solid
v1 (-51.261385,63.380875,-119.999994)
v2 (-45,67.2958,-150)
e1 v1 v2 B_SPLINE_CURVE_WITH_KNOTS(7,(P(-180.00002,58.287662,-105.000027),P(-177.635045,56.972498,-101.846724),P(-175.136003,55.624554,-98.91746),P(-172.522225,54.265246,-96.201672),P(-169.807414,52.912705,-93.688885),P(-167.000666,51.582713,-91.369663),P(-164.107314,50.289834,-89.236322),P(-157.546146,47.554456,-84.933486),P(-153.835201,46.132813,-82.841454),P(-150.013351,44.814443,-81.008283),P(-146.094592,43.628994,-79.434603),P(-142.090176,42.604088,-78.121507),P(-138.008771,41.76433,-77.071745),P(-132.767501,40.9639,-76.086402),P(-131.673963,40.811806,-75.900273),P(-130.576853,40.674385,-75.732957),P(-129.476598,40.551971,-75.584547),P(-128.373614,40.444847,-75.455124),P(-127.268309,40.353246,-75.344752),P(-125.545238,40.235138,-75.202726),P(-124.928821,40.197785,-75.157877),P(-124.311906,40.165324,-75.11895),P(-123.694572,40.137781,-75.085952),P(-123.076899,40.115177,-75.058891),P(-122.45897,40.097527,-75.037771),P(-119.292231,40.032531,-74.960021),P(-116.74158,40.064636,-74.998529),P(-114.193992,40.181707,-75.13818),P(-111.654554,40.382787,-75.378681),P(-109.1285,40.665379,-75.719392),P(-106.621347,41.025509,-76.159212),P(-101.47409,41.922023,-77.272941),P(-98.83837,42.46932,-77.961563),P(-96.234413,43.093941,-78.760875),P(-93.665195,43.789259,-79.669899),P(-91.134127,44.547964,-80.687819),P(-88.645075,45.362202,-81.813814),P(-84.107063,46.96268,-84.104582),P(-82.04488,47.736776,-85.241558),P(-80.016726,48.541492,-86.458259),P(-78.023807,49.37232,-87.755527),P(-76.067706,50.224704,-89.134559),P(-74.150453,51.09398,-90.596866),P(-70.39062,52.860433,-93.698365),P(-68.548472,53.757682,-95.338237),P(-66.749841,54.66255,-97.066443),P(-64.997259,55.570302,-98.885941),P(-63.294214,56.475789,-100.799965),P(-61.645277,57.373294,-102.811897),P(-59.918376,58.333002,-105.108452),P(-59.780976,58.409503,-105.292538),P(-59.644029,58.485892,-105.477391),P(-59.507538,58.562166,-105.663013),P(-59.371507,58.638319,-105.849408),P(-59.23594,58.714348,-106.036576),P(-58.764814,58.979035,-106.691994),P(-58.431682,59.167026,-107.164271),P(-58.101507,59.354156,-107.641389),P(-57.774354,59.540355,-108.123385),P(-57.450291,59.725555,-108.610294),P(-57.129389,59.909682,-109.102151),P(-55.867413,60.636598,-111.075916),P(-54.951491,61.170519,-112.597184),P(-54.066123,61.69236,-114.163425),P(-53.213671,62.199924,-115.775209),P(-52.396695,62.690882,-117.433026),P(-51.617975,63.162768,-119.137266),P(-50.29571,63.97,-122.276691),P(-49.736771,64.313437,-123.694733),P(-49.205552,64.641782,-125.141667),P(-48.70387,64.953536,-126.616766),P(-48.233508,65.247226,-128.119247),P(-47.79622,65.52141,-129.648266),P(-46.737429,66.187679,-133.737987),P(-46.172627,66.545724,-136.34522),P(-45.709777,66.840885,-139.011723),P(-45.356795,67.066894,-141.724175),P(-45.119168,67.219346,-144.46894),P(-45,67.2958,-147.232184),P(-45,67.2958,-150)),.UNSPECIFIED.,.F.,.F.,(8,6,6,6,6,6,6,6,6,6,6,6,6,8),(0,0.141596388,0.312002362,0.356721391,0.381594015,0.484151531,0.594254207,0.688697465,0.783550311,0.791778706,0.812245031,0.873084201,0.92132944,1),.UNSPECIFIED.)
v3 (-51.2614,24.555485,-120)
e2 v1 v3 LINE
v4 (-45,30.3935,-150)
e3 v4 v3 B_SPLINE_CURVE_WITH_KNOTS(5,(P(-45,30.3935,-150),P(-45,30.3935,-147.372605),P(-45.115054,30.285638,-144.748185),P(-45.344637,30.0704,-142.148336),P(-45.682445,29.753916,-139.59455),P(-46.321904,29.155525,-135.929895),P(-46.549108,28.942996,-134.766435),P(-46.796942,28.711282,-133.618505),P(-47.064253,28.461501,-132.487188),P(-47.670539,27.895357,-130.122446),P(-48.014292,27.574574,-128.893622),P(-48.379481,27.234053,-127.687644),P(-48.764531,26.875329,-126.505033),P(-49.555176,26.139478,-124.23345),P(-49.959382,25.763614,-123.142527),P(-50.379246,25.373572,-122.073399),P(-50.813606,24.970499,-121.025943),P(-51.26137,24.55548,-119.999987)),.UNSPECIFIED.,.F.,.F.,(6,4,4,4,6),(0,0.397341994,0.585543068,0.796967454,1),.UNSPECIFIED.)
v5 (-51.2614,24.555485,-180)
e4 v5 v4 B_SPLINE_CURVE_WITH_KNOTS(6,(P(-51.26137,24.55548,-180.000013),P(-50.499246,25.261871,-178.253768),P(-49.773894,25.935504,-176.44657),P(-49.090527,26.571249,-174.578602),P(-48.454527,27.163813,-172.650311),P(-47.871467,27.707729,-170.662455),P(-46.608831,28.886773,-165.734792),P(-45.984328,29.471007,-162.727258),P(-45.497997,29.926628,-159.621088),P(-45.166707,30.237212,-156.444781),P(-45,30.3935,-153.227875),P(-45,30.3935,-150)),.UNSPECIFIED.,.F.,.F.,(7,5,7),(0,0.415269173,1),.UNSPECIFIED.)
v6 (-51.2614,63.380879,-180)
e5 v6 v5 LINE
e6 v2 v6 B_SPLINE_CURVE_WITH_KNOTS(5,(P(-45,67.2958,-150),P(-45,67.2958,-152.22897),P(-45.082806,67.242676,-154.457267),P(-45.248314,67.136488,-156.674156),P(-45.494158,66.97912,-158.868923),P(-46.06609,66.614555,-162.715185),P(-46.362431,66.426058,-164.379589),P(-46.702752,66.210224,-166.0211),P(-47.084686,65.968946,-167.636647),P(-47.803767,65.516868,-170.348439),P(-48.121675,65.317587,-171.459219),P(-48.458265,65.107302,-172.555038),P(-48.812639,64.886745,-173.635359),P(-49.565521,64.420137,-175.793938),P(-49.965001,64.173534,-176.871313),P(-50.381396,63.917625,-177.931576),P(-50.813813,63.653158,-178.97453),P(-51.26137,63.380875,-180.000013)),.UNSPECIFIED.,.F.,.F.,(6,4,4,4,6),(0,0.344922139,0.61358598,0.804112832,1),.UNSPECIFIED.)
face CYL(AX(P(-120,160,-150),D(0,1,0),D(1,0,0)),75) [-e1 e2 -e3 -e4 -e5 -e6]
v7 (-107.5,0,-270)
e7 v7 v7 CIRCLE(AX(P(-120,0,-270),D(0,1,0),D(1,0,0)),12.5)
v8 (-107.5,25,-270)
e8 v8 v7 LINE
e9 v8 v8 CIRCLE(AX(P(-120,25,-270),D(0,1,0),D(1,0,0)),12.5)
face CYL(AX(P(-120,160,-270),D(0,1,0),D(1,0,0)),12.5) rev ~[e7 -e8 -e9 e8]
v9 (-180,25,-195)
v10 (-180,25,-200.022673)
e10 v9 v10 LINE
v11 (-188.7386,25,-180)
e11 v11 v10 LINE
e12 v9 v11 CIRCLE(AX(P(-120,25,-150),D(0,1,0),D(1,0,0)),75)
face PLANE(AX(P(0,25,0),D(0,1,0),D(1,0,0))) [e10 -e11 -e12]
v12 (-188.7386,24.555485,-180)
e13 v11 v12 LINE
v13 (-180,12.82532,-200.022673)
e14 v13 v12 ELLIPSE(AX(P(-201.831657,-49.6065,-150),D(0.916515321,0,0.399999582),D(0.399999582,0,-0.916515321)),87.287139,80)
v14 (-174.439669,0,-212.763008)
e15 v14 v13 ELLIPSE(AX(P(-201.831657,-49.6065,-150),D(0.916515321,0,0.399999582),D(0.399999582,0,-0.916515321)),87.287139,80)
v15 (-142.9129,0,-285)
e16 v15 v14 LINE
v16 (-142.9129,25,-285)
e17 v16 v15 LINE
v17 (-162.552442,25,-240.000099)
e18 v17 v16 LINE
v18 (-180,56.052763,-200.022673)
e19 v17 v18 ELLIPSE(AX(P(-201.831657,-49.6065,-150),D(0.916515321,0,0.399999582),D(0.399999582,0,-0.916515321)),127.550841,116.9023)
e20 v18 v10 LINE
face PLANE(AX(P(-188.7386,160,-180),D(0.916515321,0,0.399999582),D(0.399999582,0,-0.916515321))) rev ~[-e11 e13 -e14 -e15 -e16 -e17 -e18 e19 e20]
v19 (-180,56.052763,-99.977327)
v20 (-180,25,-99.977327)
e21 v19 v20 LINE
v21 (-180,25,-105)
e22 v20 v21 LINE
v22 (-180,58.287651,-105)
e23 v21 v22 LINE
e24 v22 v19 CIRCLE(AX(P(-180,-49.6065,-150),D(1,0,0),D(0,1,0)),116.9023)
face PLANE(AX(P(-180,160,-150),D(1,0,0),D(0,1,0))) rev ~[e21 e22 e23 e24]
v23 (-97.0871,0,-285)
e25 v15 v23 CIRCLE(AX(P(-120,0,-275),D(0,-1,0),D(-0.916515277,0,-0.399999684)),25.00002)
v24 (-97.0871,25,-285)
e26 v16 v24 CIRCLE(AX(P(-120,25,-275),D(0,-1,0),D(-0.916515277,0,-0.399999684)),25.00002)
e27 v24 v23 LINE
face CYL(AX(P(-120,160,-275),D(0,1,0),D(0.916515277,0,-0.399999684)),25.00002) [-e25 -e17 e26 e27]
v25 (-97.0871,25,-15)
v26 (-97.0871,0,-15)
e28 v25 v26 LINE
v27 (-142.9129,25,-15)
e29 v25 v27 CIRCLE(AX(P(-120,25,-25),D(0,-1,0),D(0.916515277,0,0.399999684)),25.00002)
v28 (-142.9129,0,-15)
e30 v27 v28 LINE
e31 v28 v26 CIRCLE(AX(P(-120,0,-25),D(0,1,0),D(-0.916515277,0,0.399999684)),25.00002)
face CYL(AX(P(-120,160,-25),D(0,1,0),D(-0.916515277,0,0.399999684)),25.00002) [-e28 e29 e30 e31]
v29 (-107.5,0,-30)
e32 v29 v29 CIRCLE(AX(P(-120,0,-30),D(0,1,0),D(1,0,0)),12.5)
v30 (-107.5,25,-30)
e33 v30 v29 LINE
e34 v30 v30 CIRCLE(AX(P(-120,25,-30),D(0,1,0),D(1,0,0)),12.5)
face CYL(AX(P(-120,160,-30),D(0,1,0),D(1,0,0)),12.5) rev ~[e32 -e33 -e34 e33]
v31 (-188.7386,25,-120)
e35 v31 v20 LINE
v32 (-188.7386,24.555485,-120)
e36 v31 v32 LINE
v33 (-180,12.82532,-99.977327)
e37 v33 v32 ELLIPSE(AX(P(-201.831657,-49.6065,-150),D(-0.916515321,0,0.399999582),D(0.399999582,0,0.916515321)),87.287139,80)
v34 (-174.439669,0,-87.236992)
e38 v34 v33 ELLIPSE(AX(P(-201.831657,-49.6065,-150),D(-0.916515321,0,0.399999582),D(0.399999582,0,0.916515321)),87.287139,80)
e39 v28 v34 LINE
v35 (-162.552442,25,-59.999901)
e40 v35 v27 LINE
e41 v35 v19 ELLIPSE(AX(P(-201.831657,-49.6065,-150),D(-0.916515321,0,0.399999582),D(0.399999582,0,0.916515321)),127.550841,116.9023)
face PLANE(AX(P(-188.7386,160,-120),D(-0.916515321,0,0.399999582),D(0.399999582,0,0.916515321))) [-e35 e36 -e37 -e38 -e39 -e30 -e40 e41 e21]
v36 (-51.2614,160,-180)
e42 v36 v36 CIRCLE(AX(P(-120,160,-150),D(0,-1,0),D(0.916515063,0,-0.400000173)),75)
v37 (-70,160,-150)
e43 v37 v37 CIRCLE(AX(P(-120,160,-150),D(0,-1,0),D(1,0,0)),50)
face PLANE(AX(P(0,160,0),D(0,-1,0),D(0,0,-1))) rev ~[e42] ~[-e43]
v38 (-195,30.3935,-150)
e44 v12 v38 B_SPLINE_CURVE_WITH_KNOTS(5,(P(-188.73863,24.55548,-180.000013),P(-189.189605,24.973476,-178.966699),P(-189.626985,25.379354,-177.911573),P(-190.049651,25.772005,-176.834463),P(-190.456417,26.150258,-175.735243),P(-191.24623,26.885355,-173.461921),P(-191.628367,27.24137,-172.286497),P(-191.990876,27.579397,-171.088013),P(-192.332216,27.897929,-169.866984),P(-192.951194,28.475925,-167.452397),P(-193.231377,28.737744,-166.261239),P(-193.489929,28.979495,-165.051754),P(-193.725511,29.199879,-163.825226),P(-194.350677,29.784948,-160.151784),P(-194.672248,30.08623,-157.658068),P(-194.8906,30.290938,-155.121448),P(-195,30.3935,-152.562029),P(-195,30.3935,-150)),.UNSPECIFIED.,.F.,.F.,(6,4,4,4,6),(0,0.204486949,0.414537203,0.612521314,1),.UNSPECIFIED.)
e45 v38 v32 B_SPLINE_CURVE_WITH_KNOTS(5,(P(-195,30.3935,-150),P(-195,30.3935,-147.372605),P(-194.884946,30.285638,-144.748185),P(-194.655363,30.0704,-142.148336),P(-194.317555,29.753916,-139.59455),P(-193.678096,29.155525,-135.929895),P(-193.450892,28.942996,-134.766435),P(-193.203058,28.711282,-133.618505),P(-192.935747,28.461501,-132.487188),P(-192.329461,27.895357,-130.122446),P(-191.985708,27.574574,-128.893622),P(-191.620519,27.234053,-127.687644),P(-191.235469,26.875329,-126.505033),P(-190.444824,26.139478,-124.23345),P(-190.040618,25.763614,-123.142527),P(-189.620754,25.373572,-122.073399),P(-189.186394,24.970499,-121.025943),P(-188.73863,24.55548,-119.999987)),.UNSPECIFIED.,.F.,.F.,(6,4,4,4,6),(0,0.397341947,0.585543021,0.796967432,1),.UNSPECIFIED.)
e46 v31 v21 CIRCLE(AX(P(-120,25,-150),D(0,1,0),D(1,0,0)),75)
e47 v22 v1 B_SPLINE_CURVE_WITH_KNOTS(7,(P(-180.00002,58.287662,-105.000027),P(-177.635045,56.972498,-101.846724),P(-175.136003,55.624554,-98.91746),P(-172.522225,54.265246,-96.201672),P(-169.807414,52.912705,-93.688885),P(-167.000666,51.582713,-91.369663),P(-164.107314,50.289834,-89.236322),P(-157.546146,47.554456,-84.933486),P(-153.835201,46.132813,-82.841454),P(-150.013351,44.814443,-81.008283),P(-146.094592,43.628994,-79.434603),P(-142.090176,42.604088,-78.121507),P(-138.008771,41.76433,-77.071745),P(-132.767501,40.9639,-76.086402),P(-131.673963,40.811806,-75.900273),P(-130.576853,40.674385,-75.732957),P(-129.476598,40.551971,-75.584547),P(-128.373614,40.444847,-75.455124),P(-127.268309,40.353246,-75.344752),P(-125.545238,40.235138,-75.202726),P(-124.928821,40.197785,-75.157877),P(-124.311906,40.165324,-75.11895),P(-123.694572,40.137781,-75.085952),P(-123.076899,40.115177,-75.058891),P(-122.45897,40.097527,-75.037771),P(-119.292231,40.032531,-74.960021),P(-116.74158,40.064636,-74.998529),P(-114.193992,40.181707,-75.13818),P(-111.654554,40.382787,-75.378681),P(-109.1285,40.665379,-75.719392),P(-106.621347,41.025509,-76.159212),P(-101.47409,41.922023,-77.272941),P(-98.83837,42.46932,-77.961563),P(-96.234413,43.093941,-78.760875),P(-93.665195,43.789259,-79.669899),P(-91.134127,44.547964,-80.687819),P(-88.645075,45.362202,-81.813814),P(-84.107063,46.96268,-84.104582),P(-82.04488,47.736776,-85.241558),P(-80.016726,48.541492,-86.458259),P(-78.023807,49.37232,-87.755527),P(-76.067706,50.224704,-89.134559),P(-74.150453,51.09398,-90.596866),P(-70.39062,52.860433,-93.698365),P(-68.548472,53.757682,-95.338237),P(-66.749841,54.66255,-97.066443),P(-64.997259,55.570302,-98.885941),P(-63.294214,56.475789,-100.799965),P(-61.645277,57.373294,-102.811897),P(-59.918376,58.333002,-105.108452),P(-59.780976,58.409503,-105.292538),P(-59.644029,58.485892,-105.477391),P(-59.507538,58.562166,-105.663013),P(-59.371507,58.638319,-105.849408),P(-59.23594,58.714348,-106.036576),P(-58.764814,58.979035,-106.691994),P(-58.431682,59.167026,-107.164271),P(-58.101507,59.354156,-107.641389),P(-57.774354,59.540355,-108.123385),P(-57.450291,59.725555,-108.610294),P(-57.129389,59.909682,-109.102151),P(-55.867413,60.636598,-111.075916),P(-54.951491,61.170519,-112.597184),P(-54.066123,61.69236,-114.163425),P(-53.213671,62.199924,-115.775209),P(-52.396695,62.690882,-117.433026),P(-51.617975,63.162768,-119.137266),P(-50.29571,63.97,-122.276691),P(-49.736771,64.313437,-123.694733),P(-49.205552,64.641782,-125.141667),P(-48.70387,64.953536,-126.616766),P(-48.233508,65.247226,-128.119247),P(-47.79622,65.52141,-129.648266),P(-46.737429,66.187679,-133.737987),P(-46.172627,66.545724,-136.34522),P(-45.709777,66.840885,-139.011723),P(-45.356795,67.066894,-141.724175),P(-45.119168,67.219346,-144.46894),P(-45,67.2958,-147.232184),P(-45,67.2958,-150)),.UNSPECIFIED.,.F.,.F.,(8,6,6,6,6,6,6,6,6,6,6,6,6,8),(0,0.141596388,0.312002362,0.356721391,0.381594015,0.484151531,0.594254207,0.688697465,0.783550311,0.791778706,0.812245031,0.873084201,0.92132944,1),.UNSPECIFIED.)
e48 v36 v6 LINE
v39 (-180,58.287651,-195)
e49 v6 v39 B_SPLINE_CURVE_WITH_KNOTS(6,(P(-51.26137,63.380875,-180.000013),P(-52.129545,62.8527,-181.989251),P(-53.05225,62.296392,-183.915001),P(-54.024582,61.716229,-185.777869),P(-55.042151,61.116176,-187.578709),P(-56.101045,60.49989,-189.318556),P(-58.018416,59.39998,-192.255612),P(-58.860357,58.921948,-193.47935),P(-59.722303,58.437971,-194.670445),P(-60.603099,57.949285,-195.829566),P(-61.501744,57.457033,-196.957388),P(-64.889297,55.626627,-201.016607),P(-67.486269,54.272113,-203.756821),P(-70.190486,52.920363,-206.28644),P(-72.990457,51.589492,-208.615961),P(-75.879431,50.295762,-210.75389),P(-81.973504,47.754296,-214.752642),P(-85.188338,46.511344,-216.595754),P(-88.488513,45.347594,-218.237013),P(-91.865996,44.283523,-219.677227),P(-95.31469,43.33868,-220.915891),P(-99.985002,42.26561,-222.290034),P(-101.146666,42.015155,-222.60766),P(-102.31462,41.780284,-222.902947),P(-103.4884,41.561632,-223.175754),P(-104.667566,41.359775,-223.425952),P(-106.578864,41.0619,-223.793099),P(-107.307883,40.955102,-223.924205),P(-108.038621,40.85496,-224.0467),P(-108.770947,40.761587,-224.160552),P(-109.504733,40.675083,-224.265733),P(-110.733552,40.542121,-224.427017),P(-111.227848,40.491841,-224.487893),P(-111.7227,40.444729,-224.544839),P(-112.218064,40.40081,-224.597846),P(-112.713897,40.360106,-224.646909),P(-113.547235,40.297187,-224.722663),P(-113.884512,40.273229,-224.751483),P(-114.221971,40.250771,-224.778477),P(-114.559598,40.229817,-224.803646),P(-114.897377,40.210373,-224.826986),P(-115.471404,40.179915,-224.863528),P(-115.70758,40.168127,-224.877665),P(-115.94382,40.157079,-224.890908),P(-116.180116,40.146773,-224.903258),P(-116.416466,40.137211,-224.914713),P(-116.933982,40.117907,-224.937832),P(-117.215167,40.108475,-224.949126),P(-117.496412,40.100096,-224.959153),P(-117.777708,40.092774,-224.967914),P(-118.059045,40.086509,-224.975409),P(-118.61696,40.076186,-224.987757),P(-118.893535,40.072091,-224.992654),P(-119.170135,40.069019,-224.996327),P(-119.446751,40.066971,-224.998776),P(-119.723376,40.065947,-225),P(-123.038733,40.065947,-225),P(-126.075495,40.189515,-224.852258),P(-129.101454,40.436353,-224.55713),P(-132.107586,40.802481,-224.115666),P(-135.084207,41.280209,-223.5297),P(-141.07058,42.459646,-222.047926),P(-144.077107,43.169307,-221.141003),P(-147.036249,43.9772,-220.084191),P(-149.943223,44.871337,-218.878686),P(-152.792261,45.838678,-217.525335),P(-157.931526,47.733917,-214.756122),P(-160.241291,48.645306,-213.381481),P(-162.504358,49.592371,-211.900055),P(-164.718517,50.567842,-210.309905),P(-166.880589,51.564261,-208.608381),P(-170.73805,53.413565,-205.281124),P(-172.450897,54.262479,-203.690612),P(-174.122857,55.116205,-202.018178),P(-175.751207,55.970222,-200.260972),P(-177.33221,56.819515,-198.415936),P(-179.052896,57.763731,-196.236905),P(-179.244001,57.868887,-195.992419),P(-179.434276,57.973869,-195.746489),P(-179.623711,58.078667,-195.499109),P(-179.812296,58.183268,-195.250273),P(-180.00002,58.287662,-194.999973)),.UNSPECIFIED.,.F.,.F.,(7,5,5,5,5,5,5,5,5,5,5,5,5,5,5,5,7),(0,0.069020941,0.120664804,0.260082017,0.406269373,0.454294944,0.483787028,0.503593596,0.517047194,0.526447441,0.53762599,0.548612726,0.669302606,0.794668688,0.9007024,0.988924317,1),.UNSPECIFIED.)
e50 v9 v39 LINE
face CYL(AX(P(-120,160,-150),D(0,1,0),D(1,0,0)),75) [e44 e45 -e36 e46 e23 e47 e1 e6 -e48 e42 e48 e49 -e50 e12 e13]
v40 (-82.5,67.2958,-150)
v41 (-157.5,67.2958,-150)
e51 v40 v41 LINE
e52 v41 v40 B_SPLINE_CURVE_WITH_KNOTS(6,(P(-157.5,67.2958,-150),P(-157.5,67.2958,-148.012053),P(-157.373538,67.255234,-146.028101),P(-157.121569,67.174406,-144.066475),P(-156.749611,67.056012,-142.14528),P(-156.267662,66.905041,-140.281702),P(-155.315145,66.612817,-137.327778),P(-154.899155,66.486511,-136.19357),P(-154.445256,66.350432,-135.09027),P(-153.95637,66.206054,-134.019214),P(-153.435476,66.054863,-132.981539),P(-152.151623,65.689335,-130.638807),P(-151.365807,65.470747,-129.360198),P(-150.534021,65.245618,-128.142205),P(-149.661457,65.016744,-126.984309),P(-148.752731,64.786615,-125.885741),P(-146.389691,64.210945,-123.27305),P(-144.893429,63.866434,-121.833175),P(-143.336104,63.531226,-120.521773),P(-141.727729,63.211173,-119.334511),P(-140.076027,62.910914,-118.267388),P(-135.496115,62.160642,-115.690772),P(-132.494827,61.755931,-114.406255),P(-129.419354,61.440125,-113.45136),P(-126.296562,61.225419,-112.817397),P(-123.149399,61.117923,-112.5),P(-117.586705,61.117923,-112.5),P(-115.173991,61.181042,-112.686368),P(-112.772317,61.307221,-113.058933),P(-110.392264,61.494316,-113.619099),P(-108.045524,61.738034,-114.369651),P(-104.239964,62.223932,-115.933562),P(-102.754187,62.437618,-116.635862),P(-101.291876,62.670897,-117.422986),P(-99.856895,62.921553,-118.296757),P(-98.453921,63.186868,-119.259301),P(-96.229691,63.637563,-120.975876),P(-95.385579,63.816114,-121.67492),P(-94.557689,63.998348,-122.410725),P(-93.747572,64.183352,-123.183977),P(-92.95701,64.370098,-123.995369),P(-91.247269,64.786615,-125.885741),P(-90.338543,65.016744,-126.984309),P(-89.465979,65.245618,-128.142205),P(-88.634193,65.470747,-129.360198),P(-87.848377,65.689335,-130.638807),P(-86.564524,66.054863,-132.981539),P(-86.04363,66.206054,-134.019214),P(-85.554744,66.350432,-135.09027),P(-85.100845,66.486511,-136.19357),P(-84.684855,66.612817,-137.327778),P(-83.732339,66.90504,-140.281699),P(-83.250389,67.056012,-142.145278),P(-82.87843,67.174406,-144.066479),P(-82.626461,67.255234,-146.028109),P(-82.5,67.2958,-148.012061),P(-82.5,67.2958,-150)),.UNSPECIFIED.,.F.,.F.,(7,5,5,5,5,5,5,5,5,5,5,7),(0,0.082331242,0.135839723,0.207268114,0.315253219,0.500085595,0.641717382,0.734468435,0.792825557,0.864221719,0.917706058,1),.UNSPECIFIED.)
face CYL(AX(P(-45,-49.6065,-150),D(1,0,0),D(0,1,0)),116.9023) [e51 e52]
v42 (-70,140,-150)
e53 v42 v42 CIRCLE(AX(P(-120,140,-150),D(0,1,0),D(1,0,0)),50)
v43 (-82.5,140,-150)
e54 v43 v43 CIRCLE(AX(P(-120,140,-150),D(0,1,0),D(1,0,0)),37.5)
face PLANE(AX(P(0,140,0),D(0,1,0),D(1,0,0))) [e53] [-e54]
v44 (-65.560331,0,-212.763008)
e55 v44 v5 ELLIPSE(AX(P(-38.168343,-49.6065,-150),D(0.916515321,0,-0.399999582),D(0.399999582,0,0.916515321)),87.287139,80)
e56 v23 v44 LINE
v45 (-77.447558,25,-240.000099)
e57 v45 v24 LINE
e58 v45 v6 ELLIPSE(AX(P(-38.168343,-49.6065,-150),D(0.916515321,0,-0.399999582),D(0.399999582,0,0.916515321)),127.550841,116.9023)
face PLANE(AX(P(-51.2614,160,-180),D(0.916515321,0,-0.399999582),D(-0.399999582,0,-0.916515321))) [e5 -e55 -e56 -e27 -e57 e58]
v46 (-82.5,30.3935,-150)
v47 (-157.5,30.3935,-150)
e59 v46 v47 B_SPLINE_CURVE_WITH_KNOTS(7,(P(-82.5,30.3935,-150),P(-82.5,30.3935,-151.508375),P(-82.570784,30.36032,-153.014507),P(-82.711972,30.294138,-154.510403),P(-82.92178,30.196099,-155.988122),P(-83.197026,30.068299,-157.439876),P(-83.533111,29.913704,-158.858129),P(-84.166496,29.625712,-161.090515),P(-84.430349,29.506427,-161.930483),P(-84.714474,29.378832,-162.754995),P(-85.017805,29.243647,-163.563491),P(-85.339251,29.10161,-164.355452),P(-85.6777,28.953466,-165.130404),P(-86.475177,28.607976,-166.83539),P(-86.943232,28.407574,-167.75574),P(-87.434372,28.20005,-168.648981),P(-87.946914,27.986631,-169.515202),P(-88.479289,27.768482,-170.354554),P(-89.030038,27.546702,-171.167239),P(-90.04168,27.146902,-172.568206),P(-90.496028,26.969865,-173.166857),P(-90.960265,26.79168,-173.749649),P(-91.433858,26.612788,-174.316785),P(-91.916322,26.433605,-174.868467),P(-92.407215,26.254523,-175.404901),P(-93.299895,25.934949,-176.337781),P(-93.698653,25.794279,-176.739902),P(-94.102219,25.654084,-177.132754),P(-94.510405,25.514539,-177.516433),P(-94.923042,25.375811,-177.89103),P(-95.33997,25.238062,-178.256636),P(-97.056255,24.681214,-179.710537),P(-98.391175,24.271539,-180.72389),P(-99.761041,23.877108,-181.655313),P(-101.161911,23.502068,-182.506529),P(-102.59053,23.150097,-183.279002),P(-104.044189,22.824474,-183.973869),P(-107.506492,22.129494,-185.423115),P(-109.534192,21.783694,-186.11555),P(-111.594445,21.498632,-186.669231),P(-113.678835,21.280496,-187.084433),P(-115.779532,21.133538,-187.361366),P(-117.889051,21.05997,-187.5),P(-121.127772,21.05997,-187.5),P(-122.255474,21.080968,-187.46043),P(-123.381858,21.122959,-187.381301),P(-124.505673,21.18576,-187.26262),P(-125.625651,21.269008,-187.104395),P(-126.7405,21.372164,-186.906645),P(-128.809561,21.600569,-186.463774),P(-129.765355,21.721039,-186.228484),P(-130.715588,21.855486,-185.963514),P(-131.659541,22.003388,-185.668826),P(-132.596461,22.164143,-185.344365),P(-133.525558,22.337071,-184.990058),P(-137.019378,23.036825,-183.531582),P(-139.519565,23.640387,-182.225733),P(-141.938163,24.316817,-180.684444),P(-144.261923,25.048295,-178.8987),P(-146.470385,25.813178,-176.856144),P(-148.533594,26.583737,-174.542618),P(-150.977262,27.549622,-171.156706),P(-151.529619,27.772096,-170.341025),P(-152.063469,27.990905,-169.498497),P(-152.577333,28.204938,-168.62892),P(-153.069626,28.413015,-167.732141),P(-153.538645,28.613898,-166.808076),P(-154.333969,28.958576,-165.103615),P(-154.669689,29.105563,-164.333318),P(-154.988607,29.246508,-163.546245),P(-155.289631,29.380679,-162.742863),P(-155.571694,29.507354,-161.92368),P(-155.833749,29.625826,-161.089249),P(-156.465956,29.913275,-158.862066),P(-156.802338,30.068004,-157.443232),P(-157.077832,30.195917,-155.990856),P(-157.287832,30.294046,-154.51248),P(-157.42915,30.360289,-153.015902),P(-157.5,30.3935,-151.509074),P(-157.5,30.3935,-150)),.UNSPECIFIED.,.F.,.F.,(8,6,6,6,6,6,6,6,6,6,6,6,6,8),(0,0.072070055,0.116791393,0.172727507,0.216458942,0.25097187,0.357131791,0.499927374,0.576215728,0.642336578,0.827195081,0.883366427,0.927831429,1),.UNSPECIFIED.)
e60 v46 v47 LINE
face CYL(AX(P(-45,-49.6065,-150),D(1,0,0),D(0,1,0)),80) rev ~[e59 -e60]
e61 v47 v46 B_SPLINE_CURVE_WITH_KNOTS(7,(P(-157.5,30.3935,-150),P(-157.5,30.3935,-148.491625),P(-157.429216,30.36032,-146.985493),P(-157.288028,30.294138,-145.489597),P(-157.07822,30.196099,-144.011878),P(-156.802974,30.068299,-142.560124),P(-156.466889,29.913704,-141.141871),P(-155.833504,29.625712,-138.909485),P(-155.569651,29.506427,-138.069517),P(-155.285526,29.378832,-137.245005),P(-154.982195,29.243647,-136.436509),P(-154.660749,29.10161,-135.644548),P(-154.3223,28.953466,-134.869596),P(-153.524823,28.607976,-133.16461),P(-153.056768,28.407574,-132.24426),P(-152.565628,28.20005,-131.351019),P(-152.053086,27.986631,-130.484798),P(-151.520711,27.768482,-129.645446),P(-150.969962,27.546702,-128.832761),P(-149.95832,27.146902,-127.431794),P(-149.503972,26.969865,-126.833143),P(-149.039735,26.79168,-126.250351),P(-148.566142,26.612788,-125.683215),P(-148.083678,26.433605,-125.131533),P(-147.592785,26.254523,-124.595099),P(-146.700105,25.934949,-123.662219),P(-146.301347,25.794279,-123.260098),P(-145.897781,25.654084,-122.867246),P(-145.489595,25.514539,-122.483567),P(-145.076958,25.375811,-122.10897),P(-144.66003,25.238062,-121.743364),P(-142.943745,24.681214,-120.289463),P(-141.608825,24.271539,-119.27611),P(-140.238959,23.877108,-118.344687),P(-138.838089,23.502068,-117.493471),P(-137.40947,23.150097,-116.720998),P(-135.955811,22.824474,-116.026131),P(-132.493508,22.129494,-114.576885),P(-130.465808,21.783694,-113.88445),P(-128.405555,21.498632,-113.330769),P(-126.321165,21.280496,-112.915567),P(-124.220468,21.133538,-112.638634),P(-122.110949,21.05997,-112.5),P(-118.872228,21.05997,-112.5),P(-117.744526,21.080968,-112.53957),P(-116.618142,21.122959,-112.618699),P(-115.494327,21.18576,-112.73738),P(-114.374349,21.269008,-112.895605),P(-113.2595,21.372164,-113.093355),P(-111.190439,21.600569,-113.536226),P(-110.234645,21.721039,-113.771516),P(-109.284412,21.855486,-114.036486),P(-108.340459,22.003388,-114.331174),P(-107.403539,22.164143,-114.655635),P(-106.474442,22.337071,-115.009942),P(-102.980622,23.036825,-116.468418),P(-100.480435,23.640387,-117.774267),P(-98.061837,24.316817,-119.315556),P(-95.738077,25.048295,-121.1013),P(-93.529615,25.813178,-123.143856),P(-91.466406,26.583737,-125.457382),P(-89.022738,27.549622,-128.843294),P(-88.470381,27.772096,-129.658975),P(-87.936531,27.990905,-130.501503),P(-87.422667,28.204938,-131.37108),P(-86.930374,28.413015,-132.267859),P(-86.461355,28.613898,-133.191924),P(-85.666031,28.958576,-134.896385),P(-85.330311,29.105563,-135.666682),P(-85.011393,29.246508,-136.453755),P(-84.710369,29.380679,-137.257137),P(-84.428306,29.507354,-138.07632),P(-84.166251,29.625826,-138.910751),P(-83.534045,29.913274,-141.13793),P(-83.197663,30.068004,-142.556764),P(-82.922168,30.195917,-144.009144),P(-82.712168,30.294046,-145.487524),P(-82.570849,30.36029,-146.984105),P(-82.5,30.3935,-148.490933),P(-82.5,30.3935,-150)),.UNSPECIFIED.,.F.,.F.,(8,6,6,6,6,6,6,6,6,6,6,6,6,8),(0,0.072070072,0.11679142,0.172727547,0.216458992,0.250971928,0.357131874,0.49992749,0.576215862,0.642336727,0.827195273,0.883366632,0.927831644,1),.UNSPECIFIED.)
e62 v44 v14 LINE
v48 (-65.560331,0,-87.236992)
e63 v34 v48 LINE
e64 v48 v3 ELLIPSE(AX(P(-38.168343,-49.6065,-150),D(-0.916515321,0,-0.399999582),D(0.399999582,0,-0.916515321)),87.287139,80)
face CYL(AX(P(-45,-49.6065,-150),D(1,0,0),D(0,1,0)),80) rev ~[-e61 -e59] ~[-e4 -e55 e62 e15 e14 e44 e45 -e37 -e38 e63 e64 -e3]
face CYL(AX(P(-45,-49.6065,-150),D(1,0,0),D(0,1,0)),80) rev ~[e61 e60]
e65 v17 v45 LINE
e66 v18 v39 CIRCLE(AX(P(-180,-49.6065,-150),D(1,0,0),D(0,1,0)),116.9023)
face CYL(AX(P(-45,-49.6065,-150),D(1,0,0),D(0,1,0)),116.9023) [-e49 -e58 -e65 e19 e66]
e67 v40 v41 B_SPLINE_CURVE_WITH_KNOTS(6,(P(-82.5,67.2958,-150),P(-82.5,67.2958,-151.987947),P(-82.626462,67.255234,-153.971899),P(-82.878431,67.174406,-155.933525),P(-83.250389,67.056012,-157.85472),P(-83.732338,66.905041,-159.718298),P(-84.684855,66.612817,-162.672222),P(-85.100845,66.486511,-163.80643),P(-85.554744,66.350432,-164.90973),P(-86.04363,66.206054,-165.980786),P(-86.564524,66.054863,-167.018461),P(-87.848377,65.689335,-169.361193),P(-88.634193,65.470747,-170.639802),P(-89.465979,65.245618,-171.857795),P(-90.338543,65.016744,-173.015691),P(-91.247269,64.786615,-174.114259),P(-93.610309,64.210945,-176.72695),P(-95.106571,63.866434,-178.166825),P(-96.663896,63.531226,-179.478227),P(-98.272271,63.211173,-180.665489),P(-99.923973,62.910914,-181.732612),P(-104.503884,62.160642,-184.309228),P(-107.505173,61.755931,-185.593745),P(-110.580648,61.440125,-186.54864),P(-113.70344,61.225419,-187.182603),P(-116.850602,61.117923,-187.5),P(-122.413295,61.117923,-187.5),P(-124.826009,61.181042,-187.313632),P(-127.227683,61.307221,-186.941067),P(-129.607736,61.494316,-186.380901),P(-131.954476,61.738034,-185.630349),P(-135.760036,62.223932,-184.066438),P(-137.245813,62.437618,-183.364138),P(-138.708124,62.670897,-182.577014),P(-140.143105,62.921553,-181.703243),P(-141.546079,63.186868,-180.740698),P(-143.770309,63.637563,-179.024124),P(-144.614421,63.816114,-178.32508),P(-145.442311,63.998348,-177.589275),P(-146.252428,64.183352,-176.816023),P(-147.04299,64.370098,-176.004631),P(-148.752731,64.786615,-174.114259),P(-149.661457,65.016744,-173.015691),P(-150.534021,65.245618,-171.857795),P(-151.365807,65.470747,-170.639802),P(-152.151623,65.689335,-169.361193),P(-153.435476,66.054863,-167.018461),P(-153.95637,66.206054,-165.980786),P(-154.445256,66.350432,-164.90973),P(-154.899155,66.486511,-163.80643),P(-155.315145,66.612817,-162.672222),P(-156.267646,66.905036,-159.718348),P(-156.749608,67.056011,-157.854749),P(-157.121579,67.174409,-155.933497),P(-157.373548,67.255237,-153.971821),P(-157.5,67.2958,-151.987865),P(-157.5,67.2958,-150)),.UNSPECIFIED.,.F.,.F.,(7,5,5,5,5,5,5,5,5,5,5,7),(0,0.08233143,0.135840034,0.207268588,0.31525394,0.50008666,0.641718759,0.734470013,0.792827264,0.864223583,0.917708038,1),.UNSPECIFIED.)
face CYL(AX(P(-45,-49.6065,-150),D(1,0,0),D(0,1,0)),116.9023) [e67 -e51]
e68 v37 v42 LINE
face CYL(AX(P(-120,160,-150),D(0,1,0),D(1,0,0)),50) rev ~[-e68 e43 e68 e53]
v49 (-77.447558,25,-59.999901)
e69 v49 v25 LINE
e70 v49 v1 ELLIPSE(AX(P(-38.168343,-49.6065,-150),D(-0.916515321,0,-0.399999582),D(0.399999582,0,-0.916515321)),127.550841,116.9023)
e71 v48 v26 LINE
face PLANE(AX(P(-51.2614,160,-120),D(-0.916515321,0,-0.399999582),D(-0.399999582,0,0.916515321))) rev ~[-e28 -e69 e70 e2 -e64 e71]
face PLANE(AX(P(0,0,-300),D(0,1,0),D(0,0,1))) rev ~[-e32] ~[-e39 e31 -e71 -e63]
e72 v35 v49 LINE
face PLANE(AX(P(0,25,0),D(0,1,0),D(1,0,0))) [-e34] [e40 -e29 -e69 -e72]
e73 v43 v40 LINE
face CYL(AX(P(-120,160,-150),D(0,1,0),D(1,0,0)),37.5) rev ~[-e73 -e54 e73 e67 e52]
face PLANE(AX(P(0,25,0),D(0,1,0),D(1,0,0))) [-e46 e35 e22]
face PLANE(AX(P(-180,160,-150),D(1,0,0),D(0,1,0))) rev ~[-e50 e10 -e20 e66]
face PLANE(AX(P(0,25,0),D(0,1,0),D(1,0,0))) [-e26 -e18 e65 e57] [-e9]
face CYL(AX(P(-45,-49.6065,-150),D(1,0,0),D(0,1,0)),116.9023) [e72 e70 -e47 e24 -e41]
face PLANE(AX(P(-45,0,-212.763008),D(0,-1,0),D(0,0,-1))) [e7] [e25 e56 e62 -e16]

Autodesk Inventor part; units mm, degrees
ref_plane "XZ Plane" through (0, 0, 0) normal (0, 1, 0) x (-1, 0, 0)
ref_plane "XY Plane" through (0, 0, 0) normal (0, 0, 1) x (1, 0, 0)
sketch "Sketch1" plane through (0, 0, 0) normal (1, 0, 0) x (0, 1, 0)
  point P0 (0, 0)
sketch "Sketch2" plane through (0, 0, 0) normal (1, 0, 0) x (0, 1, 0)
  line L0 (0, 0) -> (160, 0)
  line L1 (160, 0) -> (160, -300)
  line L2 (160, -300) -> (0, -300)
  line L3 (0, -300) -> (0, 0)
  dimension "d0" = 300
  dimension "d1" = 160
extrude "Extrusion1" add sketch "Sketch2" against normal blind 240
sketch "Sketch3" plane through (0, 160, 0) normal (0, 1, 0) x (1, 0, 0)
  line L0 (-240, 300) -> (-240, 0) projected
  line L1 (-240, 150) -> (0, 150)
  line L2 (0, 0) -> (0, 300) projected
  line L3 (0, 0) -> (-240, 0) projected
  line L4 (-120, 0) -> (-120, 300) construction
  circle A0 centre (-120, 150) radius 75
  circle A1 centre (-120, 150) radius 50
  circle A2 centre (-120, 150) radius 37.5
  line L5 (-120, 30) -> (-120, 270) construction
  circle A3 centre (-120, 270) radius 12.5
  circle A4 centre (-120, 30) radius 12.5
  line L6 (0, 300) -> (-240, 300) projected
  line L7 (-188.7386, 180) -> (-142.9129, 285)
  line L8 (-51.2614, 180) -> (-97.0871, 285)
  arc A5 (-97.0871, 285) -> (-142.9129, 285) centre (-120, 275) ccw
  line L9 (-188.7386, 120) -> (-142.9129, 15)
  line L10 (-51.2614, 120) -> (-97.0871, 15)
  arc A6 (-142.9129, 15) -> (-97.0871, 15) centre (-120, 25) ccw
  point P0 (-120, 300)
  point P1 (-120, 300)
  point P2 (-120, 0)
  dimension "d4" = 150
  dimension "d5" = 100
  dimension "d6" = 75
  dimension "d7" = 240
  dimension "d8" = 25
  dimension "d9" = 25
  dimension "d13" = 25
extrude "Extrusion2" cut sketch "Sketch3" against normal blind 160 contours L6 A5 L7 A0 L1 L0 | L1 A0 L9 A6 L3 L0 | L6 L2 L1 A0 L8 A5 | A6 L10 A0 L1 L2 L3
extrude "Extrusion3" cut sketch "Sketch3" against normal blind 160 contours A3 | A4
extrude "Extrusion4" cut sketch "Sketch3" against normal blind 160 contours A2 L1 | L1 A2
extrude "Extrusion5" cut sketch "Sketch3" against normal blind 20 contours A1 L1 A2 | L1 A2 A1
ref_plane "Work Plane1" through (-45, 160, -150) normal (1, 0, 0) x (0, 1, 0)
sketch "Sketch4" plane through (-45, 160, -150) normal (1, 0, 0) x (0, 1, 0)
  circle A0 centre (-209.6065, 0) radius 80
  line L0 (-20, -37.5) -> (-160, -37.5) projected
  line L1 (-160, -37.5) -> (-160, 37.5) projected
  line L2 (-20, -37.5) -> (-160, -37.5)
  line L3 (-20, -37.5) -> (-20, 37.5) projected
  line L4 (-20, 37.5) -> (-160, 37.5)
  line L5 (-160, 135) -> (-160, 30) projected
  line L6 (0, -30) -> (0, 30) projected
  line L7 (0, 0) -> (-160, 0)
  line L8 (-160, 150) -> (-160, 70)
  line L9 (-160, 150) -> (-160, 90)
  line L10 (-160, 150) -> (-135, 150)
  line L11 (-160, 150) -> (0, 150) projected
  line L12 (-135, 150) -> (-135, -149.8181) construction
  line L13 (-160, 90) -> (-135, 90) construction
  circle A1 centre (-209.6065, 0) radius 116.9023
  line L14 (-160, 105.8552) -> (-160, 62.763) construction
  line L15 (-160, -62.763) -> (-160, -105.8552) construction
  line L16 (-160, 0) -> (-160, -105.8552)
  line L17 (-160, -132.5) -> (-160, -107.5) projected
  point P0 (-160, -62.763)
  point P1 (-160, 105.8552)
  dimension "d22" = 160
  dimension "d23" = 80
  dimension "d24" = 0
  dimension "d25" = 70
  dimension "d26" = 60
  dimension "d31" = 25
extrude "Extrusion6" cut sketch "Sketch4" against normal blind 150 contours L7 L1 L4 A0 | A0 L0 L1 L7 | L4 L5 A0 | A0 L16 L0 | L1 L16 A0 L5
extrude "Extrusion7" cut sketch "Sketch3" against normal blind 135 contours A5 L8 A0 L7 | A6 L9 A0 L10
extrude "Extrusion8" add sketch "Sketch4" against normal blind 135 contours L7 A1 L0 A0 | A0 L4 A1 L7 | A0 L5 A1 L4 | L0 A1 L16 A0 | A0 L16 A1 L5
extrude "Extrusion9" cut sketch "Sketch4" against normal blind 135 contours A0 L16 A1 L5
extrude "Extrusion10" cut sketch "Sketch3" against normal blind 200 contours L6 A5 L7 A0 L1 L0 | L1 A0 L9 A6 L3 L0 | L6 L2 L1 A0 L8 A5 | A6 L10 A0 L1 L2 L3
properties part number "Baitap4"
